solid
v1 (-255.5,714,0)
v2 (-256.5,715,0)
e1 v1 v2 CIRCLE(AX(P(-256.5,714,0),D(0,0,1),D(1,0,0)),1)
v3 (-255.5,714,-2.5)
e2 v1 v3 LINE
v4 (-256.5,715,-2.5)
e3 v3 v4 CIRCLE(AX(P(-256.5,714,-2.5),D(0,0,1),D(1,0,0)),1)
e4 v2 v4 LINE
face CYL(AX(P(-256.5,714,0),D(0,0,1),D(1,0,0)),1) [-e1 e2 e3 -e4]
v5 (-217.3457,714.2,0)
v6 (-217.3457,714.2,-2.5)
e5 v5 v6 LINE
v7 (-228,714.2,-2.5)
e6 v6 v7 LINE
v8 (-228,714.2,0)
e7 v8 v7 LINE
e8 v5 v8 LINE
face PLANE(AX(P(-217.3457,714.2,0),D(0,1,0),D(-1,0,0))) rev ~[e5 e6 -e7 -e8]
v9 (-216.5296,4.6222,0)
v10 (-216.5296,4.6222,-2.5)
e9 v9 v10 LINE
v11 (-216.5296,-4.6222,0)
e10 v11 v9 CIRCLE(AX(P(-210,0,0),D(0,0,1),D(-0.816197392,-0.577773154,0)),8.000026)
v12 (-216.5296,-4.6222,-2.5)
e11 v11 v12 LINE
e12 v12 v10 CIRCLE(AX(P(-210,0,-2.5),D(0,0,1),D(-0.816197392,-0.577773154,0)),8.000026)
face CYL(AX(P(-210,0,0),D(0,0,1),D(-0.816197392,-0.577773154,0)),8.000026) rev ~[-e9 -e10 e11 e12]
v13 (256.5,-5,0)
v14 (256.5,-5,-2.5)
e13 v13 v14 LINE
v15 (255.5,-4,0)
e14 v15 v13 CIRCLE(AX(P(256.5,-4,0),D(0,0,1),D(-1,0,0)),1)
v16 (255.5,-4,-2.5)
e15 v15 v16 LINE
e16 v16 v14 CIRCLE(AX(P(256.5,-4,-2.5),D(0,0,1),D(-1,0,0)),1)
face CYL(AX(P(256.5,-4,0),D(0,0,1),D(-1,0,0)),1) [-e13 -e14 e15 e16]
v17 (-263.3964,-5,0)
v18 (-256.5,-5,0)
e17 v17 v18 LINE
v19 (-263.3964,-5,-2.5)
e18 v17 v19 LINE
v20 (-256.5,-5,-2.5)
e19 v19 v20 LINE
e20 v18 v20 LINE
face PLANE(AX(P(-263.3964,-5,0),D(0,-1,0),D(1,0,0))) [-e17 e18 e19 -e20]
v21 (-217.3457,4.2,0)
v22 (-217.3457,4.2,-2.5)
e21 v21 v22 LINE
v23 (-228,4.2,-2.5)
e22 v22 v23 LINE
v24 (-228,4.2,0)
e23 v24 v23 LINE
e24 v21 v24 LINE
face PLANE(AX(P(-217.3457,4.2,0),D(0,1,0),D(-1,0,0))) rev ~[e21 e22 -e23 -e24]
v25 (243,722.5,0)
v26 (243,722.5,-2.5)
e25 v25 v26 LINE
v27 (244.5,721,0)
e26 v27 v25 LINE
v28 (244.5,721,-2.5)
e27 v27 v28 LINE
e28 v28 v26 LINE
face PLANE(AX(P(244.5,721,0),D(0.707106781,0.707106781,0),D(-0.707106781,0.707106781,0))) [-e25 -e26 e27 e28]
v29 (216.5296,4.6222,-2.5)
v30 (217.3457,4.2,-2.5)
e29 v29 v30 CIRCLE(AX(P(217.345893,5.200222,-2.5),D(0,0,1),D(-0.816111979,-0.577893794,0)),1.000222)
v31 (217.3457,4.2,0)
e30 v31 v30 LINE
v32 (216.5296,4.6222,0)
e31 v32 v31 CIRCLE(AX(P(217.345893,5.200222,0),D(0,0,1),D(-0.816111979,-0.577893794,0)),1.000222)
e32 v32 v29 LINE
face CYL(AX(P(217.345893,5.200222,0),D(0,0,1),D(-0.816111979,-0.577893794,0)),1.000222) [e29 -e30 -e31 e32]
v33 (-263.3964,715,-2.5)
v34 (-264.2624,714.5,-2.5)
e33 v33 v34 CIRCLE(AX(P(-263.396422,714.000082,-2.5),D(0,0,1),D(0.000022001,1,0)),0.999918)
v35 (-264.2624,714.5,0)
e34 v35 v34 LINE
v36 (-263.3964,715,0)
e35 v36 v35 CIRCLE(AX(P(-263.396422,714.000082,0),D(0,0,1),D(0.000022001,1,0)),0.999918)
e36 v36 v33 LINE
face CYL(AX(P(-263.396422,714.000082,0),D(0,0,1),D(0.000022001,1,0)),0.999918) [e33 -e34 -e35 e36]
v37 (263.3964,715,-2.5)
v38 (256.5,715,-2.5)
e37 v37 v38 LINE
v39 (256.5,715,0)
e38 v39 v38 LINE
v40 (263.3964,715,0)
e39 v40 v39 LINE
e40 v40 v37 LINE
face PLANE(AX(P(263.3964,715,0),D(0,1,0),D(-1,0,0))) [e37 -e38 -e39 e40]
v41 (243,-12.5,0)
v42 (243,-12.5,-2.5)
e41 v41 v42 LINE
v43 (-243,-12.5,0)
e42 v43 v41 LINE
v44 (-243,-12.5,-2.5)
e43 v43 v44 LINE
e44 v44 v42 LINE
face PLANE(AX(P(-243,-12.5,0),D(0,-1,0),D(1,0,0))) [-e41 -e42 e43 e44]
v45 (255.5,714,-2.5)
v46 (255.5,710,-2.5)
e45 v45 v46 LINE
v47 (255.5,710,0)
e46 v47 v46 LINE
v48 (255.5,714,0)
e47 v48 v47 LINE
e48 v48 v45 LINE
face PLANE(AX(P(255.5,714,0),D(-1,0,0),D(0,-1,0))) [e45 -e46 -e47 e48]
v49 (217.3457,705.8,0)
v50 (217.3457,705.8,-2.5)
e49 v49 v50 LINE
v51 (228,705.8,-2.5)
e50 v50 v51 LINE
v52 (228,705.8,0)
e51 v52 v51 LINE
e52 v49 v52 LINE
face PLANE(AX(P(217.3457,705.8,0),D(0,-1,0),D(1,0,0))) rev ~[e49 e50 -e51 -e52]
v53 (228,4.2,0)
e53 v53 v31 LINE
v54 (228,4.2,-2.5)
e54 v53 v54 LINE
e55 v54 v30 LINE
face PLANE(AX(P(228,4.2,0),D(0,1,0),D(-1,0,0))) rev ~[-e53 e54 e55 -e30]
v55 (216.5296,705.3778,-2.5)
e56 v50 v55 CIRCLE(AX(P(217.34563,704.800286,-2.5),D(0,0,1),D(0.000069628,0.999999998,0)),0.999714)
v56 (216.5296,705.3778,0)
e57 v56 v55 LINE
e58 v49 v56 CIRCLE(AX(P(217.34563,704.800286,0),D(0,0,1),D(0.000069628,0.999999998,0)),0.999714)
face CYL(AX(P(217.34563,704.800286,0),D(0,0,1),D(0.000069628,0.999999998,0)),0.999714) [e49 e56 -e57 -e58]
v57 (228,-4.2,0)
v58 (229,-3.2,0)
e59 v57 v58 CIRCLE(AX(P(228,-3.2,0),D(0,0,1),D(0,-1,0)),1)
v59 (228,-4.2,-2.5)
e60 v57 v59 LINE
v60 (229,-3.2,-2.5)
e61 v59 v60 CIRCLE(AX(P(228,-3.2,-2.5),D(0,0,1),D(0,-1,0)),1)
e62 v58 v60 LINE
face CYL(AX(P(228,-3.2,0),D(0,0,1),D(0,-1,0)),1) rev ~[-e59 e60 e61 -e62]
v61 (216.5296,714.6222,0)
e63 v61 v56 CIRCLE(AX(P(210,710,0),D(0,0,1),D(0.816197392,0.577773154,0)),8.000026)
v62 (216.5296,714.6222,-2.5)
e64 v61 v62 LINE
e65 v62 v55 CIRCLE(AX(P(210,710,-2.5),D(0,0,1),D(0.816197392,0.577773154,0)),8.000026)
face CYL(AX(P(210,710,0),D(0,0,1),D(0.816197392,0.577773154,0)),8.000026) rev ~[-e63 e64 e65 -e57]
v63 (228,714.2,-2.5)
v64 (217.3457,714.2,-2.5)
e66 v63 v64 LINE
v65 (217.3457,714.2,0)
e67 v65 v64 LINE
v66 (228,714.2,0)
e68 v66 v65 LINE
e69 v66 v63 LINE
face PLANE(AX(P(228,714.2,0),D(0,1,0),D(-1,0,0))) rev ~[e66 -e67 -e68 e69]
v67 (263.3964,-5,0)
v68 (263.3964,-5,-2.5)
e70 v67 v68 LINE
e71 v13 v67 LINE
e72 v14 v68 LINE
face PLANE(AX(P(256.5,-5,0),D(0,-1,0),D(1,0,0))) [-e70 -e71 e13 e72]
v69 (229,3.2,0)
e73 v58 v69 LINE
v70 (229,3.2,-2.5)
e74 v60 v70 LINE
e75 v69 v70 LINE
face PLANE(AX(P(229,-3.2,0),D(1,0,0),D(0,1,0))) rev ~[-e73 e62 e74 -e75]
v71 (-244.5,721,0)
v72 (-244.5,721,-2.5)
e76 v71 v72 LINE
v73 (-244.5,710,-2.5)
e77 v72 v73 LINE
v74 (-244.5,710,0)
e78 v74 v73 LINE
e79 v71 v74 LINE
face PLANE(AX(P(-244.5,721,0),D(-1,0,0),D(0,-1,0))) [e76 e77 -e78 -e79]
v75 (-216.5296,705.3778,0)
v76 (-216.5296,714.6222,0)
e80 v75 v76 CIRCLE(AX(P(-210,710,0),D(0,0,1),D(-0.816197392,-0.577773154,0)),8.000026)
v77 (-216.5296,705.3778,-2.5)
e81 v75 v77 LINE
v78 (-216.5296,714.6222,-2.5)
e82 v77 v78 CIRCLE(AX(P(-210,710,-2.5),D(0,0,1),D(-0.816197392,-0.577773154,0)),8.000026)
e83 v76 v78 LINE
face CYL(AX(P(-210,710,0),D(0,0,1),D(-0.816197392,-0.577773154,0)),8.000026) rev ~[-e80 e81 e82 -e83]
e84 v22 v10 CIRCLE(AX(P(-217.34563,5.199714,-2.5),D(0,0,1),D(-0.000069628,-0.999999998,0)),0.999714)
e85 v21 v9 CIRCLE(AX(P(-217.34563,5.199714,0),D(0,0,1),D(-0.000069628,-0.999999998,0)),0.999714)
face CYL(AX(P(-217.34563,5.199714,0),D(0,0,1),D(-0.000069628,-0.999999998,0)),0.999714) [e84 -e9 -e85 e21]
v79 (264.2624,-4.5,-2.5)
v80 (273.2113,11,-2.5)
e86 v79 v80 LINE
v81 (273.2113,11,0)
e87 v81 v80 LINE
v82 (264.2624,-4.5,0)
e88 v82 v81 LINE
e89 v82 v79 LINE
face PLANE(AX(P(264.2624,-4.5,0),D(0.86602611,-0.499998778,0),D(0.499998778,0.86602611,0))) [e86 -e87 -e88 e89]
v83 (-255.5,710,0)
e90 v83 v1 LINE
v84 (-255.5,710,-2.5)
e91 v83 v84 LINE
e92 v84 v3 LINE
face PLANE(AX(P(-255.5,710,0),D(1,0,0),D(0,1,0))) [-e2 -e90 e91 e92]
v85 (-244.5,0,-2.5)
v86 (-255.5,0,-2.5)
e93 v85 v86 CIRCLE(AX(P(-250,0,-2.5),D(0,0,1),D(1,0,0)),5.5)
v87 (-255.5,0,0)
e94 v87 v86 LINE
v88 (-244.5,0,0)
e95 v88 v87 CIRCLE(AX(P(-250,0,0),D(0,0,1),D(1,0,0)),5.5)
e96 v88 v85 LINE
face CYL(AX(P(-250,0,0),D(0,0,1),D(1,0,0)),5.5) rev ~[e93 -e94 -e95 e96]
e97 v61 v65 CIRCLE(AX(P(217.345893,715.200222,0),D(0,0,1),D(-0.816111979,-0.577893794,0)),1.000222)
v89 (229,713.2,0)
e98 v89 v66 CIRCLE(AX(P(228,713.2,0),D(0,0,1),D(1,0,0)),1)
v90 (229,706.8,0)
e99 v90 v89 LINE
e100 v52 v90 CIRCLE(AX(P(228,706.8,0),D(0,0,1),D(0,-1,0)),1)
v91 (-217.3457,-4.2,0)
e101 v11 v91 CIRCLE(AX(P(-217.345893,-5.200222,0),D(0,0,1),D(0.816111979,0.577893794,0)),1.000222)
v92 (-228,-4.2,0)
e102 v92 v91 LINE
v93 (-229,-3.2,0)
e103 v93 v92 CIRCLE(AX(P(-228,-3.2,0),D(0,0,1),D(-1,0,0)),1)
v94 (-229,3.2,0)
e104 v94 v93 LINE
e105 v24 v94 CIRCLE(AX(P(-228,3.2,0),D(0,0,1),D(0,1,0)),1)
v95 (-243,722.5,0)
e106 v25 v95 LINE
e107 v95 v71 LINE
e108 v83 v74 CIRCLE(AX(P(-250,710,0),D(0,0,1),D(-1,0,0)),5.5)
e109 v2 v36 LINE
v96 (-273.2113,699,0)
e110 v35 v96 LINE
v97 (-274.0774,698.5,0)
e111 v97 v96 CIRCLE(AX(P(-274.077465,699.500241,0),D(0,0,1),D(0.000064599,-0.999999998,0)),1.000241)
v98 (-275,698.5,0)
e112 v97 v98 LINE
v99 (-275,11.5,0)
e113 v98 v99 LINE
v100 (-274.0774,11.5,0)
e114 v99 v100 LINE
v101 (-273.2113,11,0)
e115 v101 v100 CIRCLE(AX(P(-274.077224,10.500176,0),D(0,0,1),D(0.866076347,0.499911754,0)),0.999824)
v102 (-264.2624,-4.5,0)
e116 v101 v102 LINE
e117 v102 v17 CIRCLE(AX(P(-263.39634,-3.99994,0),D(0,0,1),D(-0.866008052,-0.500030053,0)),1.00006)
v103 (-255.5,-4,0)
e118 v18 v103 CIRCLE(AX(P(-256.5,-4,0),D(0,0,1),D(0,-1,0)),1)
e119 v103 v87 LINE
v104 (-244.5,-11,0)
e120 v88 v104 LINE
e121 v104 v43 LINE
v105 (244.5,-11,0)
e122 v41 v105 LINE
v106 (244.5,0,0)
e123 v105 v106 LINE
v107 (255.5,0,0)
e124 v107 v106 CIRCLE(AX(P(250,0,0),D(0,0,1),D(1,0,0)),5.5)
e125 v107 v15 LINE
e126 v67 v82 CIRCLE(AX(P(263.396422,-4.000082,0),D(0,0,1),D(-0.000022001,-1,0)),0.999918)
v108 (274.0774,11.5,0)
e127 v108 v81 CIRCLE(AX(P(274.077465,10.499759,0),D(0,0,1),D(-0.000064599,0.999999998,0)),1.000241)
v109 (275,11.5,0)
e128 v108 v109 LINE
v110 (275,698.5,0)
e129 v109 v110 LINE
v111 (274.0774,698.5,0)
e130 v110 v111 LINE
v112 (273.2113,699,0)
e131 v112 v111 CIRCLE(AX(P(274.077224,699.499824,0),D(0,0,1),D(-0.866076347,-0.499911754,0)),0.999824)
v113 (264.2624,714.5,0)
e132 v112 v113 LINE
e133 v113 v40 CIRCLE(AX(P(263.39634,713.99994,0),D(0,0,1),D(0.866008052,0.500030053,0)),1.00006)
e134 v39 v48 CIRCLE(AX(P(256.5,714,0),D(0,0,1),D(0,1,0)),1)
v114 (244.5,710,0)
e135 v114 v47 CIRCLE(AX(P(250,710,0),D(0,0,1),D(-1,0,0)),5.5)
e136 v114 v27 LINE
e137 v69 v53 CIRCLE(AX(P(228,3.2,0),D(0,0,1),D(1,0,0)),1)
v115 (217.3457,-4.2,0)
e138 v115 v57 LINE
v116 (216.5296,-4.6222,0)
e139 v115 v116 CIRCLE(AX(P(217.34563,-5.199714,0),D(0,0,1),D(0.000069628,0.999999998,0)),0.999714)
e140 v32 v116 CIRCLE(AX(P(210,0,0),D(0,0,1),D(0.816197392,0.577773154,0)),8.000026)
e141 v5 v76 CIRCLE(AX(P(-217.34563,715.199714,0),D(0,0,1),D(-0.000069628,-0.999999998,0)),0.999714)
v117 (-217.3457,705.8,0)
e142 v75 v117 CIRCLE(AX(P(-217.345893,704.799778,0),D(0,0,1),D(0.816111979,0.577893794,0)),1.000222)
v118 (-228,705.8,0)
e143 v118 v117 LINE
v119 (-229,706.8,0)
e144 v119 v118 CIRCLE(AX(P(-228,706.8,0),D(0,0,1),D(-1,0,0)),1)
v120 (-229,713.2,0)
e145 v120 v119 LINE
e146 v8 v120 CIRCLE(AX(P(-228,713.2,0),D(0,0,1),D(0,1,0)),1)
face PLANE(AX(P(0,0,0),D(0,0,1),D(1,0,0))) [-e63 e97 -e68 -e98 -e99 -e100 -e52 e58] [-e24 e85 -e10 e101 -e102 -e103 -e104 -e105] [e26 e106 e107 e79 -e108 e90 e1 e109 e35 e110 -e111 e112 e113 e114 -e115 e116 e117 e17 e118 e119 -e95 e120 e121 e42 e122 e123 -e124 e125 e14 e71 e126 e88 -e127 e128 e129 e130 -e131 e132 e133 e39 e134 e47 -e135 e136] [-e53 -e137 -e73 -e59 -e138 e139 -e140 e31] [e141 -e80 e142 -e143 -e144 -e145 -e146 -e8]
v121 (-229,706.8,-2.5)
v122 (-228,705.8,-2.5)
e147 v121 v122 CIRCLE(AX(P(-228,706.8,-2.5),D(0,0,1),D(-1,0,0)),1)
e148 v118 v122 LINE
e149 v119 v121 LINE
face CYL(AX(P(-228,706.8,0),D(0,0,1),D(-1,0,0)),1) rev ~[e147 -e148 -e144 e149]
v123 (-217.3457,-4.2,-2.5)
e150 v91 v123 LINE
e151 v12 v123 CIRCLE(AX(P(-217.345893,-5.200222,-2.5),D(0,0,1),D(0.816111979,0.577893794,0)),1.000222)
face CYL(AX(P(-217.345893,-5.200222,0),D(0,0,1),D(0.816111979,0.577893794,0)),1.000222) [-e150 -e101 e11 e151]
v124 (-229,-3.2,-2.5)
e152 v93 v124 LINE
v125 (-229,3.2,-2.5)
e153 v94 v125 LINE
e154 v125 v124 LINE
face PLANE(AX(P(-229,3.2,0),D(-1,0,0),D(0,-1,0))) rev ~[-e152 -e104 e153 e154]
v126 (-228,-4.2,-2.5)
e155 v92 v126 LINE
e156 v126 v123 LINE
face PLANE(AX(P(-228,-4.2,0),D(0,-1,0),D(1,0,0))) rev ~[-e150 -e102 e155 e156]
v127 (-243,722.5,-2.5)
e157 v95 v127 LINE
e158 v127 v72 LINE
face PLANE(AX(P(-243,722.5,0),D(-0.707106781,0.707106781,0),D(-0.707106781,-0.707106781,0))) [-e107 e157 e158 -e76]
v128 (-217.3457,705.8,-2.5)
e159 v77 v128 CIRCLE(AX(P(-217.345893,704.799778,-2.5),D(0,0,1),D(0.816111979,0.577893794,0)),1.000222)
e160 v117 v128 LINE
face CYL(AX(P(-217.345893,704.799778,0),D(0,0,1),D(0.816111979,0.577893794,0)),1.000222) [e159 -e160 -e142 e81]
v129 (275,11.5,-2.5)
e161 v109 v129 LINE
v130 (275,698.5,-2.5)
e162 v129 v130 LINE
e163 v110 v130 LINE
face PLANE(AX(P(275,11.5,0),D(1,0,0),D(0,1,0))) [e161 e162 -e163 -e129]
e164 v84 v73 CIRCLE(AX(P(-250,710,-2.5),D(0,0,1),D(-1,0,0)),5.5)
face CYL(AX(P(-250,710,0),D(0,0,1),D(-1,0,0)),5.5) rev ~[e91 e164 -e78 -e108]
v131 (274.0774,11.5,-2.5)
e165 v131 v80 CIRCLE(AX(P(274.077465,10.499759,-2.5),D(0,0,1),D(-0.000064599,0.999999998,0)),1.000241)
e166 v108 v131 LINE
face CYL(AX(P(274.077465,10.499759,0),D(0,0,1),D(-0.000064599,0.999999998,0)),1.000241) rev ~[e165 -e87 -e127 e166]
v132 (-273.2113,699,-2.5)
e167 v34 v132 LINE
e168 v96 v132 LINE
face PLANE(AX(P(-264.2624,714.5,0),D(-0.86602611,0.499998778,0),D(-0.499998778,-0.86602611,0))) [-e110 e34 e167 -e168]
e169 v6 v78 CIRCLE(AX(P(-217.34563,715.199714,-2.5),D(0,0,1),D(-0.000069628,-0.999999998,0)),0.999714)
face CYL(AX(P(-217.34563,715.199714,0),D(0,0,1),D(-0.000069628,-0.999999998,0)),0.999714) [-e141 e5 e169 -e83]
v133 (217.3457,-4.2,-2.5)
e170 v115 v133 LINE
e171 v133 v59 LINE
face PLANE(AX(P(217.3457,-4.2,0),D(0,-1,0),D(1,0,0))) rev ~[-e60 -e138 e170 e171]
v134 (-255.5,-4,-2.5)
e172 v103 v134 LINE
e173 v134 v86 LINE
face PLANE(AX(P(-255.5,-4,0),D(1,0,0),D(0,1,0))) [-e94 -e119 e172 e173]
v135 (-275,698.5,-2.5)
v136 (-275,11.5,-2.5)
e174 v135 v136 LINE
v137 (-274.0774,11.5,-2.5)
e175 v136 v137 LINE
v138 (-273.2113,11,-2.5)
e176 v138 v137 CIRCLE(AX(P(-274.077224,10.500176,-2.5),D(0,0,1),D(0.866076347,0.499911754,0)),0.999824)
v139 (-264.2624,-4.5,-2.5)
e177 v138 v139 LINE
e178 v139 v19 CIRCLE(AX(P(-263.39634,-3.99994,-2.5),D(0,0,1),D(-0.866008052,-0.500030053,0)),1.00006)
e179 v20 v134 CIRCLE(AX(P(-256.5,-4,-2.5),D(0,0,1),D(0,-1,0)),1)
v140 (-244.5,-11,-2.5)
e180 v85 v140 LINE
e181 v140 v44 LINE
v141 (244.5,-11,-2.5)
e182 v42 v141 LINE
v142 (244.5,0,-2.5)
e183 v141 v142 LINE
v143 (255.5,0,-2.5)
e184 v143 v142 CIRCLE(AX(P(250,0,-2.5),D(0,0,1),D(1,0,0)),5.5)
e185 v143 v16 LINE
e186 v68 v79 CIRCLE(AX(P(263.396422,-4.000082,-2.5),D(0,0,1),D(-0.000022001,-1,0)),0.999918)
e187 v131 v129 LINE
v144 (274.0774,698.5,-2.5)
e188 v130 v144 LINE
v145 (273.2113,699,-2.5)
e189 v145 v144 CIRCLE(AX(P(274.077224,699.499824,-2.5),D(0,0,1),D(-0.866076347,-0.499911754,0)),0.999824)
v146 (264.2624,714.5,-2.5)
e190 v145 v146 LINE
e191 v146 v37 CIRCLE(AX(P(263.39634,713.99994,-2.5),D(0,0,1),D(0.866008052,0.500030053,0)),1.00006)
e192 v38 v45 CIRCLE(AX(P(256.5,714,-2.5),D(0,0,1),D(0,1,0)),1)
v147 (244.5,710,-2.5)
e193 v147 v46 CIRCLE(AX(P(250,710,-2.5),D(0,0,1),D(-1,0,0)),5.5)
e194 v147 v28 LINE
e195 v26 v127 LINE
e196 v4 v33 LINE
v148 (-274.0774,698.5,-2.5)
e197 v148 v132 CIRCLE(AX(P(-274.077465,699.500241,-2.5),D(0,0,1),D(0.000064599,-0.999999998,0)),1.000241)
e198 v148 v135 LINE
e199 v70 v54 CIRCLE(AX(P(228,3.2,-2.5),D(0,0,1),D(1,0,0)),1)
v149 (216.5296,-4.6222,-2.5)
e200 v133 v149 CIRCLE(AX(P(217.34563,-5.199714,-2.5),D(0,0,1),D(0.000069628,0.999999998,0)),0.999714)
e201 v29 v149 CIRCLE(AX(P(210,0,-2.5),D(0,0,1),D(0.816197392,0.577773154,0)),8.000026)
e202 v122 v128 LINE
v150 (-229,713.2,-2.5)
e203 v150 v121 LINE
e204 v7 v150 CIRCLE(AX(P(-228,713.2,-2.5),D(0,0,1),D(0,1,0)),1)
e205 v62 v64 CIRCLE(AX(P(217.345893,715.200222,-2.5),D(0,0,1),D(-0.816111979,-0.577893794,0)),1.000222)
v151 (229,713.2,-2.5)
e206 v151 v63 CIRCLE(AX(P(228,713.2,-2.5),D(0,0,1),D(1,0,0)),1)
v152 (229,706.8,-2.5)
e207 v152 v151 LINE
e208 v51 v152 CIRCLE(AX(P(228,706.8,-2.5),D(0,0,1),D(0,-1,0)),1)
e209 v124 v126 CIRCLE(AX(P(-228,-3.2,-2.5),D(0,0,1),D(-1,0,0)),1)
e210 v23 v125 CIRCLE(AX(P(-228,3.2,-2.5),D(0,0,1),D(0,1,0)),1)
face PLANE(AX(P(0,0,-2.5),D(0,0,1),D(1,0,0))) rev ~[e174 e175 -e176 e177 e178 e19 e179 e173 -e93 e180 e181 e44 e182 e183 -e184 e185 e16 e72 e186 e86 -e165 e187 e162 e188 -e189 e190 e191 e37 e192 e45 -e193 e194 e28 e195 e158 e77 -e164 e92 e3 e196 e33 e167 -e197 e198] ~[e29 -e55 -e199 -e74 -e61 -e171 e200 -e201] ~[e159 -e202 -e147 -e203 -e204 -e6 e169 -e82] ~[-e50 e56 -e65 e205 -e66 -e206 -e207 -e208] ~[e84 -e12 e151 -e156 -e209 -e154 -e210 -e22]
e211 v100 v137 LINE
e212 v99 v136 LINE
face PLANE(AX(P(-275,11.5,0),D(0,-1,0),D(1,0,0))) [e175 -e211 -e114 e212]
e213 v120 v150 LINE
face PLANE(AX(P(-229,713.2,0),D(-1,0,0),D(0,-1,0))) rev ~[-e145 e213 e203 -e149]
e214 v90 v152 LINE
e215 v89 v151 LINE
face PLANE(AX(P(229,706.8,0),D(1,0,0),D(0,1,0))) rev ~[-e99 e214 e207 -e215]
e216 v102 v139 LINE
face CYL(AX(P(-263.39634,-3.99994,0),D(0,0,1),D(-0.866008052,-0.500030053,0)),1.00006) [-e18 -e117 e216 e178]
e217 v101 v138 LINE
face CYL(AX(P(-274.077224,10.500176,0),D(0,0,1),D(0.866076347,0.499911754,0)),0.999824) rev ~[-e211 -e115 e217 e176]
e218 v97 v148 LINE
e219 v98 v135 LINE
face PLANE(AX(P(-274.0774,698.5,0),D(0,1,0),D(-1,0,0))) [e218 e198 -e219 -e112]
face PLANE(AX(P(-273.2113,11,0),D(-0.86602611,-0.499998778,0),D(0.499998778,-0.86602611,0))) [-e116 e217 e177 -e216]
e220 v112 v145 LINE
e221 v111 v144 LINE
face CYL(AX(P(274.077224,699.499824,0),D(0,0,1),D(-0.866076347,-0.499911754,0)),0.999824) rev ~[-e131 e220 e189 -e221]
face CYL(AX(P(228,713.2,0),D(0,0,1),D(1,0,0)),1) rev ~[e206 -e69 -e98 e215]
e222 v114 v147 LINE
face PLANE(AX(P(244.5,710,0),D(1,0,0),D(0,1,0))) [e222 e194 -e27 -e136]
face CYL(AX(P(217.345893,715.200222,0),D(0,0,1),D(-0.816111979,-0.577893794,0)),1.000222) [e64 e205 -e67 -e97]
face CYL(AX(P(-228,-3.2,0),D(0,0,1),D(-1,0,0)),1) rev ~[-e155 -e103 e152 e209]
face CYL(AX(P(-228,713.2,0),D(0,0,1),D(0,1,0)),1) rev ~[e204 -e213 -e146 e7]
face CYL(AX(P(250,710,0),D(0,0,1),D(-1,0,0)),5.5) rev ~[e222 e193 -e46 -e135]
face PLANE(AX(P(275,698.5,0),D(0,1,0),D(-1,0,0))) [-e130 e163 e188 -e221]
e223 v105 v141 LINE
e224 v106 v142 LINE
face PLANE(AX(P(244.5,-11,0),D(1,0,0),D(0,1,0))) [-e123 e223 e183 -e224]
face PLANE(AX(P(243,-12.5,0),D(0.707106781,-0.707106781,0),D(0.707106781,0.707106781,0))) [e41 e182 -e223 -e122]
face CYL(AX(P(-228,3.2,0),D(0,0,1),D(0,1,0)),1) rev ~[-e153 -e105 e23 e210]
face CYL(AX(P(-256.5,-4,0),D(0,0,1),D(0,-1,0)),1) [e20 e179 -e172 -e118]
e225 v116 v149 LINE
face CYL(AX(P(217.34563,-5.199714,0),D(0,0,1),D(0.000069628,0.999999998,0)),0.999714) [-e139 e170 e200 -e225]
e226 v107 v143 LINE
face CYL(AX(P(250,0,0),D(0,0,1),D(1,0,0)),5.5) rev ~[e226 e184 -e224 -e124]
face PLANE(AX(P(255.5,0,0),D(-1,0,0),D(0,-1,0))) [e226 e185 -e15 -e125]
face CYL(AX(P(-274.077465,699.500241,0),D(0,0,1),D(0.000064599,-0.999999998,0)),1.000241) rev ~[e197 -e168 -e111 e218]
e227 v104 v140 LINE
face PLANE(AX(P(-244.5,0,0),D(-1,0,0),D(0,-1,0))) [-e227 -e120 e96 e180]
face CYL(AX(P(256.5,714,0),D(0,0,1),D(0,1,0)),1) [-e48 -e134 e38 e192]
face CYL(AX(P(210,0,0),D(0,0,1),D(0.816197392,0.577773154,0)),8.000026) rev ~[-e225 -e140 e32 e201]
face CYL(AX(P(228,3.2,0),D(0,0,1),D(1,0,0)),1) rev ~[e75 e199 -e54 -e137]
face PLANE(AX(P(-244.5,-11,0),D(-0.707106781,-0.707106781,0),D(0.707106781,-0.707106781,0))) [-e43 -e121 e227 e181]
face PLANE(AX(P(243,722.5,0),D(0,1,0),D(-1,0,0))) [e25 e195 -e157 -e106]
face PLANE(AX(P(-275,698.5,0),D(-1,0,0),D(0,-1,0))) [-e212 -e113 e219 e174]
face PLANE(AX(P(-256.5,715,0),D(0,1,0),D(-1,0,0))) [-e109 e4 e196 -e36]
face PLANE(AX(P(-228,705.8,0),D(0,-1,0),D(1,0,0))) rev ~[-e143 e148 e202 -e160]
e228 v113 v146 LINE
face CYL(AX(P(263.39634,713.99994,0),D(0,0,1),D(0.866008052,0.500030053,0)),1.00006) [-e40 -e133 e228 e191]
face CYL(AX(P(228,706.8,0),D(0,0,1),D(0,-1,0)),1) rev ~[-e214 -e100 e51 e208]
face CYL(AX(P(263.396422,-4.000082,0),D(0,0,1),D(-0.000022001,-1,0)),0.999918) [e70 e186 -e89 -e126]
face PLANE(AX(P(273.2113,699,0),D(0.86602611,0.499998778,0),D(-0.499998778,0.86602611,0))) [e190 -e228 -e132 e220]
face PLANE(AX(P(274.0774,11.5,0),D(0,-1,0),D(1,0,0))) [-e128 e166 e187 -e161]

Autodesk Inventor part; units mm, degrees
sketch "Sketch_11" plane through (0, 0, 0) normal (0, 0, 1) x (1, 0, 0)
  line L0 (-275, 698.5) -> (-275, 11.5)
  line L1 (-275, 11.5) -> (-274.0774, 11.5)
  arc A0 (-273.2113, 11) -> (-274.0774, 11.5) centre (-274.0774, 10.5) ccw
  line L2 (-273.2113, 11) -> (-264.2624, -4.5)
  arc A1 (-264.2624, -4.5) -> (-263.3964, -5) centre (-263.3964, -4) ccw
  line L3 (-263.3964, -5) -> (-256.5, -5)
  arc A2 (-256.5, -5) -> (-255.5, -4) centre (-256.5, -4) ccw
  line L4 (-255.5, -4) -> (-255.5, 0)
  arc A3 (-244.5, 0) -> (-255.5, 0) centre (-250, 0) ccw
  line L5 (-244.5, 0) -> (-244.5, -11)
  line L6 (-244.5, -11) -> (-243, -12.5)
  line L7 (-243, -12.5) -> (243, -12.5)
  line L8 (243, -12.5) -> (244.5, -11)
  line L9 (244.5, -11) -> (244.5, 0)
  arc A4 (255.5, 0) -> (244.5, 0) centre (250, 0) ccw
  line L10 (255.5, 0) -> (255.5, -4)
  arc A5 (255.5, -4) -> (256.5, -5) centre (256.5, -4) ccw
  line L11 (256.5, -5) -> (263.3964, -5)
  arc A6 (263.3964, -5) -> (264.2624, -4.5) centre (263.3964, -4) ccw
  line L12 (264.2624, -4.5) -> (273.2113, 11)
  arc A7 (274.0774, 11.5) -> (273.2113, 11) centre (274.0774, 10.5) ccw
  line L13 (274.0774, 11.5) -> (275, 11.5)
  line L14 (275, 11.5) -> (275, 698.5)
  line L15 (275, 698.5) -> (274.0774, 698.5)
  arc A8 (273.2113, 699) -> (274.0774, 698.5) centre (274.0774, 699.5) ccw
  line L16 (273.2113, 699) -> (264.2624, 714.5)
  arc A9 (264.2624, 714.5) -> (263.3964, 715) centre (263.3964, 714) ccw
  line L17 (263.3964, 715) -> (256.5, 715)
  arc A10 (256.5, 715) -> (255.5, 714) centre (256.5, 714) ccw
  line L18 (255.5, 714) -> (255.5, 710)
  arc A11 (244.5, 710) -> (255.5, 710) centre (250, 710) ccw
  line L19 (244.5, 710) -> (244.5, 721)
  line L20 (244.5, 721) -> (243, 722.5)
  line L21 (243, 722.5) -> (-243, 722.5)
  line L22 (-243, 722.5) -> (-244.5, 721)
  line L23 (-244.5, 721) -> (-244.5, 710)
  arc A12 (-255.5, 710) -> (-244.5, 710) centre (-250, 710) ccw
  line L24 (-255.5, 710) -> (-255.5, 714)
  arc A13 (-255.5, 714) -> (-256.5, 715) centre (-256.5, 714) ccw
  line L25 (-256.5, 715) -> (-263.3964, 715)
  arc A14 (-263.3964, 715) -> (-264.2624, 714.5) centre (-263.3964, 714) ccw
  line L26 (-264.2624, 714.5) -> (-273.2113, 699)
  arc A15 (-274.0774, 698.5) -> (-273.2113, 699) centre (-274.0774, 699.5) ccw
  line L27 (-274.0774, 698.5) -> (-275, 698.5)
  arc A16 (216.5296, 4.6222) -> (216.5296, -4.6222) centre (210, 0) ccw
  arc A17 (217.3457, -4.2) -> (216.5296, -4.6222) centre (217.3457, -5.2) ccw
  line L28 (217.3457, -4.2) -> (228, -4.2)
  arc A18 (228, -4.2) -> (229, -3.2) centre (228, -3.2) ccw
  line L29 (229, -3.2) -> (229, 3.2)
  arc A19 (229, 3.2) -> (228, 4.2) centre (228, 3.2) ccw
  line L30 (228, 4.2) -> (217.3457, 4.2)
  arc A20 (216.5296, 4.6222) -> (217.3457, 4.2) centre (217.3457, 5.2) ccw
  arc A21 (216.5296, 714.6222) -> (216.5296, 705.3778) centre (210, 710) ccw
  arc A22 (217.3457, 705.8) -> (216.5296, 705.3778) centre (217.3457, 704.8) ccw
  line L31 (217.3457, 705.8) -> (228, 705.8)
  arc A23 (228, 705.8) -> (229, 706.8) centre (228, 706.8) ccw
  line L32 (229, 706.8) -> (229, 713.2)
  arc A24 (229, 713.2) -> (228, 714.2) centre (228, 713.2) ccw
  line L33 (228, 714.2) -> (217.3457, 714.2)
  arc A25 (216.5296, 714.6222) -> (217.3457, 714.2) centre (217.3457, 715.2) ccw
  line L34 (-229, 3.2) -> (-229, -3.2)
  arc A26 (-229, -3.2) -> (-228, -4.2) centre (-228, -3.2) ccw
  line L35 (-228, -4.2) -> (-217.3457, -4.2)
  arc A27 (-216.5296, -4.6222) -> (-217.3457, -4.2) centre (-217.3457, -5.2) ccw
  arc A28 (-216.5296, -4.6222) -> (-216.5296, 4.6222) centre (-210, 0) ccw
  arc A29 (-217.3457, 4.2) -> (-216.5296, 4.6222) centre (-217.3457, 5.2) ccw
  line L36 (-217.3457, 4.2) -> (-228, 4.2)
  arc A30 (-228, 4.2) -> (-229, 3.2) centre (-228, 3.2) ccw
  arc A31 (-229, 706.8) -> (-228, 705.8) centre (-228, 706.8) ccw
  line L37 (-228, 705.8) -> (-217.3457, 705.8)
  arc A32 (-216.5296, 705.3778) -> (-217.3457, 705.8) centre (-217.3457, 704.8) ccw
  arc A33 (-216.5296, 705.3778) -> (-216.5296, 714.6222) centre (-210, 710) ccw
  arc A34 (-217.3457, 714.2) -> (-216.5296, 714.6222) centre (-217.3457, 715.2) ccw
  line L38 (-217.3457, 714.2) -> (-228, 714.2)
  arc A35 (-228, 714.2) -> (-229, 713.2) centre (-228, 713.2) ccw
  line L39 (-229, 713.2) -> (-229, 706.8)
extrude "Extrusion1" add sketch "Sketch_11" against normal blind 2.5
ref_plane "MP_XY" through (0, 0, 0) normal (0, 0, 1) x (1, 0, 0)
ref_plane "MP_YZ" through (0, 0, 0) normal (1, 0, 0) x (0, 1, 0)
ref_plane "MP_ZX" through (0, 0, 0) normal (0, 1, 0) x (0, 0, 1)
ref_plane "to_EB_XY" through (224.8, 0, -2.5) normal (0, 0, 1) x (1, 0, 0)
ref_plane "to_EB_YZ" through (224.8, 0, -2.5) normal (1, 0, 0) x (0, 1, 0)
ref_plane "to_EB_ZX" through (224.8, 0, -2.5) normal (0, 1, 0) x (0, 0, 1)
properties part number "1676X_02_00_P6_(1)"
